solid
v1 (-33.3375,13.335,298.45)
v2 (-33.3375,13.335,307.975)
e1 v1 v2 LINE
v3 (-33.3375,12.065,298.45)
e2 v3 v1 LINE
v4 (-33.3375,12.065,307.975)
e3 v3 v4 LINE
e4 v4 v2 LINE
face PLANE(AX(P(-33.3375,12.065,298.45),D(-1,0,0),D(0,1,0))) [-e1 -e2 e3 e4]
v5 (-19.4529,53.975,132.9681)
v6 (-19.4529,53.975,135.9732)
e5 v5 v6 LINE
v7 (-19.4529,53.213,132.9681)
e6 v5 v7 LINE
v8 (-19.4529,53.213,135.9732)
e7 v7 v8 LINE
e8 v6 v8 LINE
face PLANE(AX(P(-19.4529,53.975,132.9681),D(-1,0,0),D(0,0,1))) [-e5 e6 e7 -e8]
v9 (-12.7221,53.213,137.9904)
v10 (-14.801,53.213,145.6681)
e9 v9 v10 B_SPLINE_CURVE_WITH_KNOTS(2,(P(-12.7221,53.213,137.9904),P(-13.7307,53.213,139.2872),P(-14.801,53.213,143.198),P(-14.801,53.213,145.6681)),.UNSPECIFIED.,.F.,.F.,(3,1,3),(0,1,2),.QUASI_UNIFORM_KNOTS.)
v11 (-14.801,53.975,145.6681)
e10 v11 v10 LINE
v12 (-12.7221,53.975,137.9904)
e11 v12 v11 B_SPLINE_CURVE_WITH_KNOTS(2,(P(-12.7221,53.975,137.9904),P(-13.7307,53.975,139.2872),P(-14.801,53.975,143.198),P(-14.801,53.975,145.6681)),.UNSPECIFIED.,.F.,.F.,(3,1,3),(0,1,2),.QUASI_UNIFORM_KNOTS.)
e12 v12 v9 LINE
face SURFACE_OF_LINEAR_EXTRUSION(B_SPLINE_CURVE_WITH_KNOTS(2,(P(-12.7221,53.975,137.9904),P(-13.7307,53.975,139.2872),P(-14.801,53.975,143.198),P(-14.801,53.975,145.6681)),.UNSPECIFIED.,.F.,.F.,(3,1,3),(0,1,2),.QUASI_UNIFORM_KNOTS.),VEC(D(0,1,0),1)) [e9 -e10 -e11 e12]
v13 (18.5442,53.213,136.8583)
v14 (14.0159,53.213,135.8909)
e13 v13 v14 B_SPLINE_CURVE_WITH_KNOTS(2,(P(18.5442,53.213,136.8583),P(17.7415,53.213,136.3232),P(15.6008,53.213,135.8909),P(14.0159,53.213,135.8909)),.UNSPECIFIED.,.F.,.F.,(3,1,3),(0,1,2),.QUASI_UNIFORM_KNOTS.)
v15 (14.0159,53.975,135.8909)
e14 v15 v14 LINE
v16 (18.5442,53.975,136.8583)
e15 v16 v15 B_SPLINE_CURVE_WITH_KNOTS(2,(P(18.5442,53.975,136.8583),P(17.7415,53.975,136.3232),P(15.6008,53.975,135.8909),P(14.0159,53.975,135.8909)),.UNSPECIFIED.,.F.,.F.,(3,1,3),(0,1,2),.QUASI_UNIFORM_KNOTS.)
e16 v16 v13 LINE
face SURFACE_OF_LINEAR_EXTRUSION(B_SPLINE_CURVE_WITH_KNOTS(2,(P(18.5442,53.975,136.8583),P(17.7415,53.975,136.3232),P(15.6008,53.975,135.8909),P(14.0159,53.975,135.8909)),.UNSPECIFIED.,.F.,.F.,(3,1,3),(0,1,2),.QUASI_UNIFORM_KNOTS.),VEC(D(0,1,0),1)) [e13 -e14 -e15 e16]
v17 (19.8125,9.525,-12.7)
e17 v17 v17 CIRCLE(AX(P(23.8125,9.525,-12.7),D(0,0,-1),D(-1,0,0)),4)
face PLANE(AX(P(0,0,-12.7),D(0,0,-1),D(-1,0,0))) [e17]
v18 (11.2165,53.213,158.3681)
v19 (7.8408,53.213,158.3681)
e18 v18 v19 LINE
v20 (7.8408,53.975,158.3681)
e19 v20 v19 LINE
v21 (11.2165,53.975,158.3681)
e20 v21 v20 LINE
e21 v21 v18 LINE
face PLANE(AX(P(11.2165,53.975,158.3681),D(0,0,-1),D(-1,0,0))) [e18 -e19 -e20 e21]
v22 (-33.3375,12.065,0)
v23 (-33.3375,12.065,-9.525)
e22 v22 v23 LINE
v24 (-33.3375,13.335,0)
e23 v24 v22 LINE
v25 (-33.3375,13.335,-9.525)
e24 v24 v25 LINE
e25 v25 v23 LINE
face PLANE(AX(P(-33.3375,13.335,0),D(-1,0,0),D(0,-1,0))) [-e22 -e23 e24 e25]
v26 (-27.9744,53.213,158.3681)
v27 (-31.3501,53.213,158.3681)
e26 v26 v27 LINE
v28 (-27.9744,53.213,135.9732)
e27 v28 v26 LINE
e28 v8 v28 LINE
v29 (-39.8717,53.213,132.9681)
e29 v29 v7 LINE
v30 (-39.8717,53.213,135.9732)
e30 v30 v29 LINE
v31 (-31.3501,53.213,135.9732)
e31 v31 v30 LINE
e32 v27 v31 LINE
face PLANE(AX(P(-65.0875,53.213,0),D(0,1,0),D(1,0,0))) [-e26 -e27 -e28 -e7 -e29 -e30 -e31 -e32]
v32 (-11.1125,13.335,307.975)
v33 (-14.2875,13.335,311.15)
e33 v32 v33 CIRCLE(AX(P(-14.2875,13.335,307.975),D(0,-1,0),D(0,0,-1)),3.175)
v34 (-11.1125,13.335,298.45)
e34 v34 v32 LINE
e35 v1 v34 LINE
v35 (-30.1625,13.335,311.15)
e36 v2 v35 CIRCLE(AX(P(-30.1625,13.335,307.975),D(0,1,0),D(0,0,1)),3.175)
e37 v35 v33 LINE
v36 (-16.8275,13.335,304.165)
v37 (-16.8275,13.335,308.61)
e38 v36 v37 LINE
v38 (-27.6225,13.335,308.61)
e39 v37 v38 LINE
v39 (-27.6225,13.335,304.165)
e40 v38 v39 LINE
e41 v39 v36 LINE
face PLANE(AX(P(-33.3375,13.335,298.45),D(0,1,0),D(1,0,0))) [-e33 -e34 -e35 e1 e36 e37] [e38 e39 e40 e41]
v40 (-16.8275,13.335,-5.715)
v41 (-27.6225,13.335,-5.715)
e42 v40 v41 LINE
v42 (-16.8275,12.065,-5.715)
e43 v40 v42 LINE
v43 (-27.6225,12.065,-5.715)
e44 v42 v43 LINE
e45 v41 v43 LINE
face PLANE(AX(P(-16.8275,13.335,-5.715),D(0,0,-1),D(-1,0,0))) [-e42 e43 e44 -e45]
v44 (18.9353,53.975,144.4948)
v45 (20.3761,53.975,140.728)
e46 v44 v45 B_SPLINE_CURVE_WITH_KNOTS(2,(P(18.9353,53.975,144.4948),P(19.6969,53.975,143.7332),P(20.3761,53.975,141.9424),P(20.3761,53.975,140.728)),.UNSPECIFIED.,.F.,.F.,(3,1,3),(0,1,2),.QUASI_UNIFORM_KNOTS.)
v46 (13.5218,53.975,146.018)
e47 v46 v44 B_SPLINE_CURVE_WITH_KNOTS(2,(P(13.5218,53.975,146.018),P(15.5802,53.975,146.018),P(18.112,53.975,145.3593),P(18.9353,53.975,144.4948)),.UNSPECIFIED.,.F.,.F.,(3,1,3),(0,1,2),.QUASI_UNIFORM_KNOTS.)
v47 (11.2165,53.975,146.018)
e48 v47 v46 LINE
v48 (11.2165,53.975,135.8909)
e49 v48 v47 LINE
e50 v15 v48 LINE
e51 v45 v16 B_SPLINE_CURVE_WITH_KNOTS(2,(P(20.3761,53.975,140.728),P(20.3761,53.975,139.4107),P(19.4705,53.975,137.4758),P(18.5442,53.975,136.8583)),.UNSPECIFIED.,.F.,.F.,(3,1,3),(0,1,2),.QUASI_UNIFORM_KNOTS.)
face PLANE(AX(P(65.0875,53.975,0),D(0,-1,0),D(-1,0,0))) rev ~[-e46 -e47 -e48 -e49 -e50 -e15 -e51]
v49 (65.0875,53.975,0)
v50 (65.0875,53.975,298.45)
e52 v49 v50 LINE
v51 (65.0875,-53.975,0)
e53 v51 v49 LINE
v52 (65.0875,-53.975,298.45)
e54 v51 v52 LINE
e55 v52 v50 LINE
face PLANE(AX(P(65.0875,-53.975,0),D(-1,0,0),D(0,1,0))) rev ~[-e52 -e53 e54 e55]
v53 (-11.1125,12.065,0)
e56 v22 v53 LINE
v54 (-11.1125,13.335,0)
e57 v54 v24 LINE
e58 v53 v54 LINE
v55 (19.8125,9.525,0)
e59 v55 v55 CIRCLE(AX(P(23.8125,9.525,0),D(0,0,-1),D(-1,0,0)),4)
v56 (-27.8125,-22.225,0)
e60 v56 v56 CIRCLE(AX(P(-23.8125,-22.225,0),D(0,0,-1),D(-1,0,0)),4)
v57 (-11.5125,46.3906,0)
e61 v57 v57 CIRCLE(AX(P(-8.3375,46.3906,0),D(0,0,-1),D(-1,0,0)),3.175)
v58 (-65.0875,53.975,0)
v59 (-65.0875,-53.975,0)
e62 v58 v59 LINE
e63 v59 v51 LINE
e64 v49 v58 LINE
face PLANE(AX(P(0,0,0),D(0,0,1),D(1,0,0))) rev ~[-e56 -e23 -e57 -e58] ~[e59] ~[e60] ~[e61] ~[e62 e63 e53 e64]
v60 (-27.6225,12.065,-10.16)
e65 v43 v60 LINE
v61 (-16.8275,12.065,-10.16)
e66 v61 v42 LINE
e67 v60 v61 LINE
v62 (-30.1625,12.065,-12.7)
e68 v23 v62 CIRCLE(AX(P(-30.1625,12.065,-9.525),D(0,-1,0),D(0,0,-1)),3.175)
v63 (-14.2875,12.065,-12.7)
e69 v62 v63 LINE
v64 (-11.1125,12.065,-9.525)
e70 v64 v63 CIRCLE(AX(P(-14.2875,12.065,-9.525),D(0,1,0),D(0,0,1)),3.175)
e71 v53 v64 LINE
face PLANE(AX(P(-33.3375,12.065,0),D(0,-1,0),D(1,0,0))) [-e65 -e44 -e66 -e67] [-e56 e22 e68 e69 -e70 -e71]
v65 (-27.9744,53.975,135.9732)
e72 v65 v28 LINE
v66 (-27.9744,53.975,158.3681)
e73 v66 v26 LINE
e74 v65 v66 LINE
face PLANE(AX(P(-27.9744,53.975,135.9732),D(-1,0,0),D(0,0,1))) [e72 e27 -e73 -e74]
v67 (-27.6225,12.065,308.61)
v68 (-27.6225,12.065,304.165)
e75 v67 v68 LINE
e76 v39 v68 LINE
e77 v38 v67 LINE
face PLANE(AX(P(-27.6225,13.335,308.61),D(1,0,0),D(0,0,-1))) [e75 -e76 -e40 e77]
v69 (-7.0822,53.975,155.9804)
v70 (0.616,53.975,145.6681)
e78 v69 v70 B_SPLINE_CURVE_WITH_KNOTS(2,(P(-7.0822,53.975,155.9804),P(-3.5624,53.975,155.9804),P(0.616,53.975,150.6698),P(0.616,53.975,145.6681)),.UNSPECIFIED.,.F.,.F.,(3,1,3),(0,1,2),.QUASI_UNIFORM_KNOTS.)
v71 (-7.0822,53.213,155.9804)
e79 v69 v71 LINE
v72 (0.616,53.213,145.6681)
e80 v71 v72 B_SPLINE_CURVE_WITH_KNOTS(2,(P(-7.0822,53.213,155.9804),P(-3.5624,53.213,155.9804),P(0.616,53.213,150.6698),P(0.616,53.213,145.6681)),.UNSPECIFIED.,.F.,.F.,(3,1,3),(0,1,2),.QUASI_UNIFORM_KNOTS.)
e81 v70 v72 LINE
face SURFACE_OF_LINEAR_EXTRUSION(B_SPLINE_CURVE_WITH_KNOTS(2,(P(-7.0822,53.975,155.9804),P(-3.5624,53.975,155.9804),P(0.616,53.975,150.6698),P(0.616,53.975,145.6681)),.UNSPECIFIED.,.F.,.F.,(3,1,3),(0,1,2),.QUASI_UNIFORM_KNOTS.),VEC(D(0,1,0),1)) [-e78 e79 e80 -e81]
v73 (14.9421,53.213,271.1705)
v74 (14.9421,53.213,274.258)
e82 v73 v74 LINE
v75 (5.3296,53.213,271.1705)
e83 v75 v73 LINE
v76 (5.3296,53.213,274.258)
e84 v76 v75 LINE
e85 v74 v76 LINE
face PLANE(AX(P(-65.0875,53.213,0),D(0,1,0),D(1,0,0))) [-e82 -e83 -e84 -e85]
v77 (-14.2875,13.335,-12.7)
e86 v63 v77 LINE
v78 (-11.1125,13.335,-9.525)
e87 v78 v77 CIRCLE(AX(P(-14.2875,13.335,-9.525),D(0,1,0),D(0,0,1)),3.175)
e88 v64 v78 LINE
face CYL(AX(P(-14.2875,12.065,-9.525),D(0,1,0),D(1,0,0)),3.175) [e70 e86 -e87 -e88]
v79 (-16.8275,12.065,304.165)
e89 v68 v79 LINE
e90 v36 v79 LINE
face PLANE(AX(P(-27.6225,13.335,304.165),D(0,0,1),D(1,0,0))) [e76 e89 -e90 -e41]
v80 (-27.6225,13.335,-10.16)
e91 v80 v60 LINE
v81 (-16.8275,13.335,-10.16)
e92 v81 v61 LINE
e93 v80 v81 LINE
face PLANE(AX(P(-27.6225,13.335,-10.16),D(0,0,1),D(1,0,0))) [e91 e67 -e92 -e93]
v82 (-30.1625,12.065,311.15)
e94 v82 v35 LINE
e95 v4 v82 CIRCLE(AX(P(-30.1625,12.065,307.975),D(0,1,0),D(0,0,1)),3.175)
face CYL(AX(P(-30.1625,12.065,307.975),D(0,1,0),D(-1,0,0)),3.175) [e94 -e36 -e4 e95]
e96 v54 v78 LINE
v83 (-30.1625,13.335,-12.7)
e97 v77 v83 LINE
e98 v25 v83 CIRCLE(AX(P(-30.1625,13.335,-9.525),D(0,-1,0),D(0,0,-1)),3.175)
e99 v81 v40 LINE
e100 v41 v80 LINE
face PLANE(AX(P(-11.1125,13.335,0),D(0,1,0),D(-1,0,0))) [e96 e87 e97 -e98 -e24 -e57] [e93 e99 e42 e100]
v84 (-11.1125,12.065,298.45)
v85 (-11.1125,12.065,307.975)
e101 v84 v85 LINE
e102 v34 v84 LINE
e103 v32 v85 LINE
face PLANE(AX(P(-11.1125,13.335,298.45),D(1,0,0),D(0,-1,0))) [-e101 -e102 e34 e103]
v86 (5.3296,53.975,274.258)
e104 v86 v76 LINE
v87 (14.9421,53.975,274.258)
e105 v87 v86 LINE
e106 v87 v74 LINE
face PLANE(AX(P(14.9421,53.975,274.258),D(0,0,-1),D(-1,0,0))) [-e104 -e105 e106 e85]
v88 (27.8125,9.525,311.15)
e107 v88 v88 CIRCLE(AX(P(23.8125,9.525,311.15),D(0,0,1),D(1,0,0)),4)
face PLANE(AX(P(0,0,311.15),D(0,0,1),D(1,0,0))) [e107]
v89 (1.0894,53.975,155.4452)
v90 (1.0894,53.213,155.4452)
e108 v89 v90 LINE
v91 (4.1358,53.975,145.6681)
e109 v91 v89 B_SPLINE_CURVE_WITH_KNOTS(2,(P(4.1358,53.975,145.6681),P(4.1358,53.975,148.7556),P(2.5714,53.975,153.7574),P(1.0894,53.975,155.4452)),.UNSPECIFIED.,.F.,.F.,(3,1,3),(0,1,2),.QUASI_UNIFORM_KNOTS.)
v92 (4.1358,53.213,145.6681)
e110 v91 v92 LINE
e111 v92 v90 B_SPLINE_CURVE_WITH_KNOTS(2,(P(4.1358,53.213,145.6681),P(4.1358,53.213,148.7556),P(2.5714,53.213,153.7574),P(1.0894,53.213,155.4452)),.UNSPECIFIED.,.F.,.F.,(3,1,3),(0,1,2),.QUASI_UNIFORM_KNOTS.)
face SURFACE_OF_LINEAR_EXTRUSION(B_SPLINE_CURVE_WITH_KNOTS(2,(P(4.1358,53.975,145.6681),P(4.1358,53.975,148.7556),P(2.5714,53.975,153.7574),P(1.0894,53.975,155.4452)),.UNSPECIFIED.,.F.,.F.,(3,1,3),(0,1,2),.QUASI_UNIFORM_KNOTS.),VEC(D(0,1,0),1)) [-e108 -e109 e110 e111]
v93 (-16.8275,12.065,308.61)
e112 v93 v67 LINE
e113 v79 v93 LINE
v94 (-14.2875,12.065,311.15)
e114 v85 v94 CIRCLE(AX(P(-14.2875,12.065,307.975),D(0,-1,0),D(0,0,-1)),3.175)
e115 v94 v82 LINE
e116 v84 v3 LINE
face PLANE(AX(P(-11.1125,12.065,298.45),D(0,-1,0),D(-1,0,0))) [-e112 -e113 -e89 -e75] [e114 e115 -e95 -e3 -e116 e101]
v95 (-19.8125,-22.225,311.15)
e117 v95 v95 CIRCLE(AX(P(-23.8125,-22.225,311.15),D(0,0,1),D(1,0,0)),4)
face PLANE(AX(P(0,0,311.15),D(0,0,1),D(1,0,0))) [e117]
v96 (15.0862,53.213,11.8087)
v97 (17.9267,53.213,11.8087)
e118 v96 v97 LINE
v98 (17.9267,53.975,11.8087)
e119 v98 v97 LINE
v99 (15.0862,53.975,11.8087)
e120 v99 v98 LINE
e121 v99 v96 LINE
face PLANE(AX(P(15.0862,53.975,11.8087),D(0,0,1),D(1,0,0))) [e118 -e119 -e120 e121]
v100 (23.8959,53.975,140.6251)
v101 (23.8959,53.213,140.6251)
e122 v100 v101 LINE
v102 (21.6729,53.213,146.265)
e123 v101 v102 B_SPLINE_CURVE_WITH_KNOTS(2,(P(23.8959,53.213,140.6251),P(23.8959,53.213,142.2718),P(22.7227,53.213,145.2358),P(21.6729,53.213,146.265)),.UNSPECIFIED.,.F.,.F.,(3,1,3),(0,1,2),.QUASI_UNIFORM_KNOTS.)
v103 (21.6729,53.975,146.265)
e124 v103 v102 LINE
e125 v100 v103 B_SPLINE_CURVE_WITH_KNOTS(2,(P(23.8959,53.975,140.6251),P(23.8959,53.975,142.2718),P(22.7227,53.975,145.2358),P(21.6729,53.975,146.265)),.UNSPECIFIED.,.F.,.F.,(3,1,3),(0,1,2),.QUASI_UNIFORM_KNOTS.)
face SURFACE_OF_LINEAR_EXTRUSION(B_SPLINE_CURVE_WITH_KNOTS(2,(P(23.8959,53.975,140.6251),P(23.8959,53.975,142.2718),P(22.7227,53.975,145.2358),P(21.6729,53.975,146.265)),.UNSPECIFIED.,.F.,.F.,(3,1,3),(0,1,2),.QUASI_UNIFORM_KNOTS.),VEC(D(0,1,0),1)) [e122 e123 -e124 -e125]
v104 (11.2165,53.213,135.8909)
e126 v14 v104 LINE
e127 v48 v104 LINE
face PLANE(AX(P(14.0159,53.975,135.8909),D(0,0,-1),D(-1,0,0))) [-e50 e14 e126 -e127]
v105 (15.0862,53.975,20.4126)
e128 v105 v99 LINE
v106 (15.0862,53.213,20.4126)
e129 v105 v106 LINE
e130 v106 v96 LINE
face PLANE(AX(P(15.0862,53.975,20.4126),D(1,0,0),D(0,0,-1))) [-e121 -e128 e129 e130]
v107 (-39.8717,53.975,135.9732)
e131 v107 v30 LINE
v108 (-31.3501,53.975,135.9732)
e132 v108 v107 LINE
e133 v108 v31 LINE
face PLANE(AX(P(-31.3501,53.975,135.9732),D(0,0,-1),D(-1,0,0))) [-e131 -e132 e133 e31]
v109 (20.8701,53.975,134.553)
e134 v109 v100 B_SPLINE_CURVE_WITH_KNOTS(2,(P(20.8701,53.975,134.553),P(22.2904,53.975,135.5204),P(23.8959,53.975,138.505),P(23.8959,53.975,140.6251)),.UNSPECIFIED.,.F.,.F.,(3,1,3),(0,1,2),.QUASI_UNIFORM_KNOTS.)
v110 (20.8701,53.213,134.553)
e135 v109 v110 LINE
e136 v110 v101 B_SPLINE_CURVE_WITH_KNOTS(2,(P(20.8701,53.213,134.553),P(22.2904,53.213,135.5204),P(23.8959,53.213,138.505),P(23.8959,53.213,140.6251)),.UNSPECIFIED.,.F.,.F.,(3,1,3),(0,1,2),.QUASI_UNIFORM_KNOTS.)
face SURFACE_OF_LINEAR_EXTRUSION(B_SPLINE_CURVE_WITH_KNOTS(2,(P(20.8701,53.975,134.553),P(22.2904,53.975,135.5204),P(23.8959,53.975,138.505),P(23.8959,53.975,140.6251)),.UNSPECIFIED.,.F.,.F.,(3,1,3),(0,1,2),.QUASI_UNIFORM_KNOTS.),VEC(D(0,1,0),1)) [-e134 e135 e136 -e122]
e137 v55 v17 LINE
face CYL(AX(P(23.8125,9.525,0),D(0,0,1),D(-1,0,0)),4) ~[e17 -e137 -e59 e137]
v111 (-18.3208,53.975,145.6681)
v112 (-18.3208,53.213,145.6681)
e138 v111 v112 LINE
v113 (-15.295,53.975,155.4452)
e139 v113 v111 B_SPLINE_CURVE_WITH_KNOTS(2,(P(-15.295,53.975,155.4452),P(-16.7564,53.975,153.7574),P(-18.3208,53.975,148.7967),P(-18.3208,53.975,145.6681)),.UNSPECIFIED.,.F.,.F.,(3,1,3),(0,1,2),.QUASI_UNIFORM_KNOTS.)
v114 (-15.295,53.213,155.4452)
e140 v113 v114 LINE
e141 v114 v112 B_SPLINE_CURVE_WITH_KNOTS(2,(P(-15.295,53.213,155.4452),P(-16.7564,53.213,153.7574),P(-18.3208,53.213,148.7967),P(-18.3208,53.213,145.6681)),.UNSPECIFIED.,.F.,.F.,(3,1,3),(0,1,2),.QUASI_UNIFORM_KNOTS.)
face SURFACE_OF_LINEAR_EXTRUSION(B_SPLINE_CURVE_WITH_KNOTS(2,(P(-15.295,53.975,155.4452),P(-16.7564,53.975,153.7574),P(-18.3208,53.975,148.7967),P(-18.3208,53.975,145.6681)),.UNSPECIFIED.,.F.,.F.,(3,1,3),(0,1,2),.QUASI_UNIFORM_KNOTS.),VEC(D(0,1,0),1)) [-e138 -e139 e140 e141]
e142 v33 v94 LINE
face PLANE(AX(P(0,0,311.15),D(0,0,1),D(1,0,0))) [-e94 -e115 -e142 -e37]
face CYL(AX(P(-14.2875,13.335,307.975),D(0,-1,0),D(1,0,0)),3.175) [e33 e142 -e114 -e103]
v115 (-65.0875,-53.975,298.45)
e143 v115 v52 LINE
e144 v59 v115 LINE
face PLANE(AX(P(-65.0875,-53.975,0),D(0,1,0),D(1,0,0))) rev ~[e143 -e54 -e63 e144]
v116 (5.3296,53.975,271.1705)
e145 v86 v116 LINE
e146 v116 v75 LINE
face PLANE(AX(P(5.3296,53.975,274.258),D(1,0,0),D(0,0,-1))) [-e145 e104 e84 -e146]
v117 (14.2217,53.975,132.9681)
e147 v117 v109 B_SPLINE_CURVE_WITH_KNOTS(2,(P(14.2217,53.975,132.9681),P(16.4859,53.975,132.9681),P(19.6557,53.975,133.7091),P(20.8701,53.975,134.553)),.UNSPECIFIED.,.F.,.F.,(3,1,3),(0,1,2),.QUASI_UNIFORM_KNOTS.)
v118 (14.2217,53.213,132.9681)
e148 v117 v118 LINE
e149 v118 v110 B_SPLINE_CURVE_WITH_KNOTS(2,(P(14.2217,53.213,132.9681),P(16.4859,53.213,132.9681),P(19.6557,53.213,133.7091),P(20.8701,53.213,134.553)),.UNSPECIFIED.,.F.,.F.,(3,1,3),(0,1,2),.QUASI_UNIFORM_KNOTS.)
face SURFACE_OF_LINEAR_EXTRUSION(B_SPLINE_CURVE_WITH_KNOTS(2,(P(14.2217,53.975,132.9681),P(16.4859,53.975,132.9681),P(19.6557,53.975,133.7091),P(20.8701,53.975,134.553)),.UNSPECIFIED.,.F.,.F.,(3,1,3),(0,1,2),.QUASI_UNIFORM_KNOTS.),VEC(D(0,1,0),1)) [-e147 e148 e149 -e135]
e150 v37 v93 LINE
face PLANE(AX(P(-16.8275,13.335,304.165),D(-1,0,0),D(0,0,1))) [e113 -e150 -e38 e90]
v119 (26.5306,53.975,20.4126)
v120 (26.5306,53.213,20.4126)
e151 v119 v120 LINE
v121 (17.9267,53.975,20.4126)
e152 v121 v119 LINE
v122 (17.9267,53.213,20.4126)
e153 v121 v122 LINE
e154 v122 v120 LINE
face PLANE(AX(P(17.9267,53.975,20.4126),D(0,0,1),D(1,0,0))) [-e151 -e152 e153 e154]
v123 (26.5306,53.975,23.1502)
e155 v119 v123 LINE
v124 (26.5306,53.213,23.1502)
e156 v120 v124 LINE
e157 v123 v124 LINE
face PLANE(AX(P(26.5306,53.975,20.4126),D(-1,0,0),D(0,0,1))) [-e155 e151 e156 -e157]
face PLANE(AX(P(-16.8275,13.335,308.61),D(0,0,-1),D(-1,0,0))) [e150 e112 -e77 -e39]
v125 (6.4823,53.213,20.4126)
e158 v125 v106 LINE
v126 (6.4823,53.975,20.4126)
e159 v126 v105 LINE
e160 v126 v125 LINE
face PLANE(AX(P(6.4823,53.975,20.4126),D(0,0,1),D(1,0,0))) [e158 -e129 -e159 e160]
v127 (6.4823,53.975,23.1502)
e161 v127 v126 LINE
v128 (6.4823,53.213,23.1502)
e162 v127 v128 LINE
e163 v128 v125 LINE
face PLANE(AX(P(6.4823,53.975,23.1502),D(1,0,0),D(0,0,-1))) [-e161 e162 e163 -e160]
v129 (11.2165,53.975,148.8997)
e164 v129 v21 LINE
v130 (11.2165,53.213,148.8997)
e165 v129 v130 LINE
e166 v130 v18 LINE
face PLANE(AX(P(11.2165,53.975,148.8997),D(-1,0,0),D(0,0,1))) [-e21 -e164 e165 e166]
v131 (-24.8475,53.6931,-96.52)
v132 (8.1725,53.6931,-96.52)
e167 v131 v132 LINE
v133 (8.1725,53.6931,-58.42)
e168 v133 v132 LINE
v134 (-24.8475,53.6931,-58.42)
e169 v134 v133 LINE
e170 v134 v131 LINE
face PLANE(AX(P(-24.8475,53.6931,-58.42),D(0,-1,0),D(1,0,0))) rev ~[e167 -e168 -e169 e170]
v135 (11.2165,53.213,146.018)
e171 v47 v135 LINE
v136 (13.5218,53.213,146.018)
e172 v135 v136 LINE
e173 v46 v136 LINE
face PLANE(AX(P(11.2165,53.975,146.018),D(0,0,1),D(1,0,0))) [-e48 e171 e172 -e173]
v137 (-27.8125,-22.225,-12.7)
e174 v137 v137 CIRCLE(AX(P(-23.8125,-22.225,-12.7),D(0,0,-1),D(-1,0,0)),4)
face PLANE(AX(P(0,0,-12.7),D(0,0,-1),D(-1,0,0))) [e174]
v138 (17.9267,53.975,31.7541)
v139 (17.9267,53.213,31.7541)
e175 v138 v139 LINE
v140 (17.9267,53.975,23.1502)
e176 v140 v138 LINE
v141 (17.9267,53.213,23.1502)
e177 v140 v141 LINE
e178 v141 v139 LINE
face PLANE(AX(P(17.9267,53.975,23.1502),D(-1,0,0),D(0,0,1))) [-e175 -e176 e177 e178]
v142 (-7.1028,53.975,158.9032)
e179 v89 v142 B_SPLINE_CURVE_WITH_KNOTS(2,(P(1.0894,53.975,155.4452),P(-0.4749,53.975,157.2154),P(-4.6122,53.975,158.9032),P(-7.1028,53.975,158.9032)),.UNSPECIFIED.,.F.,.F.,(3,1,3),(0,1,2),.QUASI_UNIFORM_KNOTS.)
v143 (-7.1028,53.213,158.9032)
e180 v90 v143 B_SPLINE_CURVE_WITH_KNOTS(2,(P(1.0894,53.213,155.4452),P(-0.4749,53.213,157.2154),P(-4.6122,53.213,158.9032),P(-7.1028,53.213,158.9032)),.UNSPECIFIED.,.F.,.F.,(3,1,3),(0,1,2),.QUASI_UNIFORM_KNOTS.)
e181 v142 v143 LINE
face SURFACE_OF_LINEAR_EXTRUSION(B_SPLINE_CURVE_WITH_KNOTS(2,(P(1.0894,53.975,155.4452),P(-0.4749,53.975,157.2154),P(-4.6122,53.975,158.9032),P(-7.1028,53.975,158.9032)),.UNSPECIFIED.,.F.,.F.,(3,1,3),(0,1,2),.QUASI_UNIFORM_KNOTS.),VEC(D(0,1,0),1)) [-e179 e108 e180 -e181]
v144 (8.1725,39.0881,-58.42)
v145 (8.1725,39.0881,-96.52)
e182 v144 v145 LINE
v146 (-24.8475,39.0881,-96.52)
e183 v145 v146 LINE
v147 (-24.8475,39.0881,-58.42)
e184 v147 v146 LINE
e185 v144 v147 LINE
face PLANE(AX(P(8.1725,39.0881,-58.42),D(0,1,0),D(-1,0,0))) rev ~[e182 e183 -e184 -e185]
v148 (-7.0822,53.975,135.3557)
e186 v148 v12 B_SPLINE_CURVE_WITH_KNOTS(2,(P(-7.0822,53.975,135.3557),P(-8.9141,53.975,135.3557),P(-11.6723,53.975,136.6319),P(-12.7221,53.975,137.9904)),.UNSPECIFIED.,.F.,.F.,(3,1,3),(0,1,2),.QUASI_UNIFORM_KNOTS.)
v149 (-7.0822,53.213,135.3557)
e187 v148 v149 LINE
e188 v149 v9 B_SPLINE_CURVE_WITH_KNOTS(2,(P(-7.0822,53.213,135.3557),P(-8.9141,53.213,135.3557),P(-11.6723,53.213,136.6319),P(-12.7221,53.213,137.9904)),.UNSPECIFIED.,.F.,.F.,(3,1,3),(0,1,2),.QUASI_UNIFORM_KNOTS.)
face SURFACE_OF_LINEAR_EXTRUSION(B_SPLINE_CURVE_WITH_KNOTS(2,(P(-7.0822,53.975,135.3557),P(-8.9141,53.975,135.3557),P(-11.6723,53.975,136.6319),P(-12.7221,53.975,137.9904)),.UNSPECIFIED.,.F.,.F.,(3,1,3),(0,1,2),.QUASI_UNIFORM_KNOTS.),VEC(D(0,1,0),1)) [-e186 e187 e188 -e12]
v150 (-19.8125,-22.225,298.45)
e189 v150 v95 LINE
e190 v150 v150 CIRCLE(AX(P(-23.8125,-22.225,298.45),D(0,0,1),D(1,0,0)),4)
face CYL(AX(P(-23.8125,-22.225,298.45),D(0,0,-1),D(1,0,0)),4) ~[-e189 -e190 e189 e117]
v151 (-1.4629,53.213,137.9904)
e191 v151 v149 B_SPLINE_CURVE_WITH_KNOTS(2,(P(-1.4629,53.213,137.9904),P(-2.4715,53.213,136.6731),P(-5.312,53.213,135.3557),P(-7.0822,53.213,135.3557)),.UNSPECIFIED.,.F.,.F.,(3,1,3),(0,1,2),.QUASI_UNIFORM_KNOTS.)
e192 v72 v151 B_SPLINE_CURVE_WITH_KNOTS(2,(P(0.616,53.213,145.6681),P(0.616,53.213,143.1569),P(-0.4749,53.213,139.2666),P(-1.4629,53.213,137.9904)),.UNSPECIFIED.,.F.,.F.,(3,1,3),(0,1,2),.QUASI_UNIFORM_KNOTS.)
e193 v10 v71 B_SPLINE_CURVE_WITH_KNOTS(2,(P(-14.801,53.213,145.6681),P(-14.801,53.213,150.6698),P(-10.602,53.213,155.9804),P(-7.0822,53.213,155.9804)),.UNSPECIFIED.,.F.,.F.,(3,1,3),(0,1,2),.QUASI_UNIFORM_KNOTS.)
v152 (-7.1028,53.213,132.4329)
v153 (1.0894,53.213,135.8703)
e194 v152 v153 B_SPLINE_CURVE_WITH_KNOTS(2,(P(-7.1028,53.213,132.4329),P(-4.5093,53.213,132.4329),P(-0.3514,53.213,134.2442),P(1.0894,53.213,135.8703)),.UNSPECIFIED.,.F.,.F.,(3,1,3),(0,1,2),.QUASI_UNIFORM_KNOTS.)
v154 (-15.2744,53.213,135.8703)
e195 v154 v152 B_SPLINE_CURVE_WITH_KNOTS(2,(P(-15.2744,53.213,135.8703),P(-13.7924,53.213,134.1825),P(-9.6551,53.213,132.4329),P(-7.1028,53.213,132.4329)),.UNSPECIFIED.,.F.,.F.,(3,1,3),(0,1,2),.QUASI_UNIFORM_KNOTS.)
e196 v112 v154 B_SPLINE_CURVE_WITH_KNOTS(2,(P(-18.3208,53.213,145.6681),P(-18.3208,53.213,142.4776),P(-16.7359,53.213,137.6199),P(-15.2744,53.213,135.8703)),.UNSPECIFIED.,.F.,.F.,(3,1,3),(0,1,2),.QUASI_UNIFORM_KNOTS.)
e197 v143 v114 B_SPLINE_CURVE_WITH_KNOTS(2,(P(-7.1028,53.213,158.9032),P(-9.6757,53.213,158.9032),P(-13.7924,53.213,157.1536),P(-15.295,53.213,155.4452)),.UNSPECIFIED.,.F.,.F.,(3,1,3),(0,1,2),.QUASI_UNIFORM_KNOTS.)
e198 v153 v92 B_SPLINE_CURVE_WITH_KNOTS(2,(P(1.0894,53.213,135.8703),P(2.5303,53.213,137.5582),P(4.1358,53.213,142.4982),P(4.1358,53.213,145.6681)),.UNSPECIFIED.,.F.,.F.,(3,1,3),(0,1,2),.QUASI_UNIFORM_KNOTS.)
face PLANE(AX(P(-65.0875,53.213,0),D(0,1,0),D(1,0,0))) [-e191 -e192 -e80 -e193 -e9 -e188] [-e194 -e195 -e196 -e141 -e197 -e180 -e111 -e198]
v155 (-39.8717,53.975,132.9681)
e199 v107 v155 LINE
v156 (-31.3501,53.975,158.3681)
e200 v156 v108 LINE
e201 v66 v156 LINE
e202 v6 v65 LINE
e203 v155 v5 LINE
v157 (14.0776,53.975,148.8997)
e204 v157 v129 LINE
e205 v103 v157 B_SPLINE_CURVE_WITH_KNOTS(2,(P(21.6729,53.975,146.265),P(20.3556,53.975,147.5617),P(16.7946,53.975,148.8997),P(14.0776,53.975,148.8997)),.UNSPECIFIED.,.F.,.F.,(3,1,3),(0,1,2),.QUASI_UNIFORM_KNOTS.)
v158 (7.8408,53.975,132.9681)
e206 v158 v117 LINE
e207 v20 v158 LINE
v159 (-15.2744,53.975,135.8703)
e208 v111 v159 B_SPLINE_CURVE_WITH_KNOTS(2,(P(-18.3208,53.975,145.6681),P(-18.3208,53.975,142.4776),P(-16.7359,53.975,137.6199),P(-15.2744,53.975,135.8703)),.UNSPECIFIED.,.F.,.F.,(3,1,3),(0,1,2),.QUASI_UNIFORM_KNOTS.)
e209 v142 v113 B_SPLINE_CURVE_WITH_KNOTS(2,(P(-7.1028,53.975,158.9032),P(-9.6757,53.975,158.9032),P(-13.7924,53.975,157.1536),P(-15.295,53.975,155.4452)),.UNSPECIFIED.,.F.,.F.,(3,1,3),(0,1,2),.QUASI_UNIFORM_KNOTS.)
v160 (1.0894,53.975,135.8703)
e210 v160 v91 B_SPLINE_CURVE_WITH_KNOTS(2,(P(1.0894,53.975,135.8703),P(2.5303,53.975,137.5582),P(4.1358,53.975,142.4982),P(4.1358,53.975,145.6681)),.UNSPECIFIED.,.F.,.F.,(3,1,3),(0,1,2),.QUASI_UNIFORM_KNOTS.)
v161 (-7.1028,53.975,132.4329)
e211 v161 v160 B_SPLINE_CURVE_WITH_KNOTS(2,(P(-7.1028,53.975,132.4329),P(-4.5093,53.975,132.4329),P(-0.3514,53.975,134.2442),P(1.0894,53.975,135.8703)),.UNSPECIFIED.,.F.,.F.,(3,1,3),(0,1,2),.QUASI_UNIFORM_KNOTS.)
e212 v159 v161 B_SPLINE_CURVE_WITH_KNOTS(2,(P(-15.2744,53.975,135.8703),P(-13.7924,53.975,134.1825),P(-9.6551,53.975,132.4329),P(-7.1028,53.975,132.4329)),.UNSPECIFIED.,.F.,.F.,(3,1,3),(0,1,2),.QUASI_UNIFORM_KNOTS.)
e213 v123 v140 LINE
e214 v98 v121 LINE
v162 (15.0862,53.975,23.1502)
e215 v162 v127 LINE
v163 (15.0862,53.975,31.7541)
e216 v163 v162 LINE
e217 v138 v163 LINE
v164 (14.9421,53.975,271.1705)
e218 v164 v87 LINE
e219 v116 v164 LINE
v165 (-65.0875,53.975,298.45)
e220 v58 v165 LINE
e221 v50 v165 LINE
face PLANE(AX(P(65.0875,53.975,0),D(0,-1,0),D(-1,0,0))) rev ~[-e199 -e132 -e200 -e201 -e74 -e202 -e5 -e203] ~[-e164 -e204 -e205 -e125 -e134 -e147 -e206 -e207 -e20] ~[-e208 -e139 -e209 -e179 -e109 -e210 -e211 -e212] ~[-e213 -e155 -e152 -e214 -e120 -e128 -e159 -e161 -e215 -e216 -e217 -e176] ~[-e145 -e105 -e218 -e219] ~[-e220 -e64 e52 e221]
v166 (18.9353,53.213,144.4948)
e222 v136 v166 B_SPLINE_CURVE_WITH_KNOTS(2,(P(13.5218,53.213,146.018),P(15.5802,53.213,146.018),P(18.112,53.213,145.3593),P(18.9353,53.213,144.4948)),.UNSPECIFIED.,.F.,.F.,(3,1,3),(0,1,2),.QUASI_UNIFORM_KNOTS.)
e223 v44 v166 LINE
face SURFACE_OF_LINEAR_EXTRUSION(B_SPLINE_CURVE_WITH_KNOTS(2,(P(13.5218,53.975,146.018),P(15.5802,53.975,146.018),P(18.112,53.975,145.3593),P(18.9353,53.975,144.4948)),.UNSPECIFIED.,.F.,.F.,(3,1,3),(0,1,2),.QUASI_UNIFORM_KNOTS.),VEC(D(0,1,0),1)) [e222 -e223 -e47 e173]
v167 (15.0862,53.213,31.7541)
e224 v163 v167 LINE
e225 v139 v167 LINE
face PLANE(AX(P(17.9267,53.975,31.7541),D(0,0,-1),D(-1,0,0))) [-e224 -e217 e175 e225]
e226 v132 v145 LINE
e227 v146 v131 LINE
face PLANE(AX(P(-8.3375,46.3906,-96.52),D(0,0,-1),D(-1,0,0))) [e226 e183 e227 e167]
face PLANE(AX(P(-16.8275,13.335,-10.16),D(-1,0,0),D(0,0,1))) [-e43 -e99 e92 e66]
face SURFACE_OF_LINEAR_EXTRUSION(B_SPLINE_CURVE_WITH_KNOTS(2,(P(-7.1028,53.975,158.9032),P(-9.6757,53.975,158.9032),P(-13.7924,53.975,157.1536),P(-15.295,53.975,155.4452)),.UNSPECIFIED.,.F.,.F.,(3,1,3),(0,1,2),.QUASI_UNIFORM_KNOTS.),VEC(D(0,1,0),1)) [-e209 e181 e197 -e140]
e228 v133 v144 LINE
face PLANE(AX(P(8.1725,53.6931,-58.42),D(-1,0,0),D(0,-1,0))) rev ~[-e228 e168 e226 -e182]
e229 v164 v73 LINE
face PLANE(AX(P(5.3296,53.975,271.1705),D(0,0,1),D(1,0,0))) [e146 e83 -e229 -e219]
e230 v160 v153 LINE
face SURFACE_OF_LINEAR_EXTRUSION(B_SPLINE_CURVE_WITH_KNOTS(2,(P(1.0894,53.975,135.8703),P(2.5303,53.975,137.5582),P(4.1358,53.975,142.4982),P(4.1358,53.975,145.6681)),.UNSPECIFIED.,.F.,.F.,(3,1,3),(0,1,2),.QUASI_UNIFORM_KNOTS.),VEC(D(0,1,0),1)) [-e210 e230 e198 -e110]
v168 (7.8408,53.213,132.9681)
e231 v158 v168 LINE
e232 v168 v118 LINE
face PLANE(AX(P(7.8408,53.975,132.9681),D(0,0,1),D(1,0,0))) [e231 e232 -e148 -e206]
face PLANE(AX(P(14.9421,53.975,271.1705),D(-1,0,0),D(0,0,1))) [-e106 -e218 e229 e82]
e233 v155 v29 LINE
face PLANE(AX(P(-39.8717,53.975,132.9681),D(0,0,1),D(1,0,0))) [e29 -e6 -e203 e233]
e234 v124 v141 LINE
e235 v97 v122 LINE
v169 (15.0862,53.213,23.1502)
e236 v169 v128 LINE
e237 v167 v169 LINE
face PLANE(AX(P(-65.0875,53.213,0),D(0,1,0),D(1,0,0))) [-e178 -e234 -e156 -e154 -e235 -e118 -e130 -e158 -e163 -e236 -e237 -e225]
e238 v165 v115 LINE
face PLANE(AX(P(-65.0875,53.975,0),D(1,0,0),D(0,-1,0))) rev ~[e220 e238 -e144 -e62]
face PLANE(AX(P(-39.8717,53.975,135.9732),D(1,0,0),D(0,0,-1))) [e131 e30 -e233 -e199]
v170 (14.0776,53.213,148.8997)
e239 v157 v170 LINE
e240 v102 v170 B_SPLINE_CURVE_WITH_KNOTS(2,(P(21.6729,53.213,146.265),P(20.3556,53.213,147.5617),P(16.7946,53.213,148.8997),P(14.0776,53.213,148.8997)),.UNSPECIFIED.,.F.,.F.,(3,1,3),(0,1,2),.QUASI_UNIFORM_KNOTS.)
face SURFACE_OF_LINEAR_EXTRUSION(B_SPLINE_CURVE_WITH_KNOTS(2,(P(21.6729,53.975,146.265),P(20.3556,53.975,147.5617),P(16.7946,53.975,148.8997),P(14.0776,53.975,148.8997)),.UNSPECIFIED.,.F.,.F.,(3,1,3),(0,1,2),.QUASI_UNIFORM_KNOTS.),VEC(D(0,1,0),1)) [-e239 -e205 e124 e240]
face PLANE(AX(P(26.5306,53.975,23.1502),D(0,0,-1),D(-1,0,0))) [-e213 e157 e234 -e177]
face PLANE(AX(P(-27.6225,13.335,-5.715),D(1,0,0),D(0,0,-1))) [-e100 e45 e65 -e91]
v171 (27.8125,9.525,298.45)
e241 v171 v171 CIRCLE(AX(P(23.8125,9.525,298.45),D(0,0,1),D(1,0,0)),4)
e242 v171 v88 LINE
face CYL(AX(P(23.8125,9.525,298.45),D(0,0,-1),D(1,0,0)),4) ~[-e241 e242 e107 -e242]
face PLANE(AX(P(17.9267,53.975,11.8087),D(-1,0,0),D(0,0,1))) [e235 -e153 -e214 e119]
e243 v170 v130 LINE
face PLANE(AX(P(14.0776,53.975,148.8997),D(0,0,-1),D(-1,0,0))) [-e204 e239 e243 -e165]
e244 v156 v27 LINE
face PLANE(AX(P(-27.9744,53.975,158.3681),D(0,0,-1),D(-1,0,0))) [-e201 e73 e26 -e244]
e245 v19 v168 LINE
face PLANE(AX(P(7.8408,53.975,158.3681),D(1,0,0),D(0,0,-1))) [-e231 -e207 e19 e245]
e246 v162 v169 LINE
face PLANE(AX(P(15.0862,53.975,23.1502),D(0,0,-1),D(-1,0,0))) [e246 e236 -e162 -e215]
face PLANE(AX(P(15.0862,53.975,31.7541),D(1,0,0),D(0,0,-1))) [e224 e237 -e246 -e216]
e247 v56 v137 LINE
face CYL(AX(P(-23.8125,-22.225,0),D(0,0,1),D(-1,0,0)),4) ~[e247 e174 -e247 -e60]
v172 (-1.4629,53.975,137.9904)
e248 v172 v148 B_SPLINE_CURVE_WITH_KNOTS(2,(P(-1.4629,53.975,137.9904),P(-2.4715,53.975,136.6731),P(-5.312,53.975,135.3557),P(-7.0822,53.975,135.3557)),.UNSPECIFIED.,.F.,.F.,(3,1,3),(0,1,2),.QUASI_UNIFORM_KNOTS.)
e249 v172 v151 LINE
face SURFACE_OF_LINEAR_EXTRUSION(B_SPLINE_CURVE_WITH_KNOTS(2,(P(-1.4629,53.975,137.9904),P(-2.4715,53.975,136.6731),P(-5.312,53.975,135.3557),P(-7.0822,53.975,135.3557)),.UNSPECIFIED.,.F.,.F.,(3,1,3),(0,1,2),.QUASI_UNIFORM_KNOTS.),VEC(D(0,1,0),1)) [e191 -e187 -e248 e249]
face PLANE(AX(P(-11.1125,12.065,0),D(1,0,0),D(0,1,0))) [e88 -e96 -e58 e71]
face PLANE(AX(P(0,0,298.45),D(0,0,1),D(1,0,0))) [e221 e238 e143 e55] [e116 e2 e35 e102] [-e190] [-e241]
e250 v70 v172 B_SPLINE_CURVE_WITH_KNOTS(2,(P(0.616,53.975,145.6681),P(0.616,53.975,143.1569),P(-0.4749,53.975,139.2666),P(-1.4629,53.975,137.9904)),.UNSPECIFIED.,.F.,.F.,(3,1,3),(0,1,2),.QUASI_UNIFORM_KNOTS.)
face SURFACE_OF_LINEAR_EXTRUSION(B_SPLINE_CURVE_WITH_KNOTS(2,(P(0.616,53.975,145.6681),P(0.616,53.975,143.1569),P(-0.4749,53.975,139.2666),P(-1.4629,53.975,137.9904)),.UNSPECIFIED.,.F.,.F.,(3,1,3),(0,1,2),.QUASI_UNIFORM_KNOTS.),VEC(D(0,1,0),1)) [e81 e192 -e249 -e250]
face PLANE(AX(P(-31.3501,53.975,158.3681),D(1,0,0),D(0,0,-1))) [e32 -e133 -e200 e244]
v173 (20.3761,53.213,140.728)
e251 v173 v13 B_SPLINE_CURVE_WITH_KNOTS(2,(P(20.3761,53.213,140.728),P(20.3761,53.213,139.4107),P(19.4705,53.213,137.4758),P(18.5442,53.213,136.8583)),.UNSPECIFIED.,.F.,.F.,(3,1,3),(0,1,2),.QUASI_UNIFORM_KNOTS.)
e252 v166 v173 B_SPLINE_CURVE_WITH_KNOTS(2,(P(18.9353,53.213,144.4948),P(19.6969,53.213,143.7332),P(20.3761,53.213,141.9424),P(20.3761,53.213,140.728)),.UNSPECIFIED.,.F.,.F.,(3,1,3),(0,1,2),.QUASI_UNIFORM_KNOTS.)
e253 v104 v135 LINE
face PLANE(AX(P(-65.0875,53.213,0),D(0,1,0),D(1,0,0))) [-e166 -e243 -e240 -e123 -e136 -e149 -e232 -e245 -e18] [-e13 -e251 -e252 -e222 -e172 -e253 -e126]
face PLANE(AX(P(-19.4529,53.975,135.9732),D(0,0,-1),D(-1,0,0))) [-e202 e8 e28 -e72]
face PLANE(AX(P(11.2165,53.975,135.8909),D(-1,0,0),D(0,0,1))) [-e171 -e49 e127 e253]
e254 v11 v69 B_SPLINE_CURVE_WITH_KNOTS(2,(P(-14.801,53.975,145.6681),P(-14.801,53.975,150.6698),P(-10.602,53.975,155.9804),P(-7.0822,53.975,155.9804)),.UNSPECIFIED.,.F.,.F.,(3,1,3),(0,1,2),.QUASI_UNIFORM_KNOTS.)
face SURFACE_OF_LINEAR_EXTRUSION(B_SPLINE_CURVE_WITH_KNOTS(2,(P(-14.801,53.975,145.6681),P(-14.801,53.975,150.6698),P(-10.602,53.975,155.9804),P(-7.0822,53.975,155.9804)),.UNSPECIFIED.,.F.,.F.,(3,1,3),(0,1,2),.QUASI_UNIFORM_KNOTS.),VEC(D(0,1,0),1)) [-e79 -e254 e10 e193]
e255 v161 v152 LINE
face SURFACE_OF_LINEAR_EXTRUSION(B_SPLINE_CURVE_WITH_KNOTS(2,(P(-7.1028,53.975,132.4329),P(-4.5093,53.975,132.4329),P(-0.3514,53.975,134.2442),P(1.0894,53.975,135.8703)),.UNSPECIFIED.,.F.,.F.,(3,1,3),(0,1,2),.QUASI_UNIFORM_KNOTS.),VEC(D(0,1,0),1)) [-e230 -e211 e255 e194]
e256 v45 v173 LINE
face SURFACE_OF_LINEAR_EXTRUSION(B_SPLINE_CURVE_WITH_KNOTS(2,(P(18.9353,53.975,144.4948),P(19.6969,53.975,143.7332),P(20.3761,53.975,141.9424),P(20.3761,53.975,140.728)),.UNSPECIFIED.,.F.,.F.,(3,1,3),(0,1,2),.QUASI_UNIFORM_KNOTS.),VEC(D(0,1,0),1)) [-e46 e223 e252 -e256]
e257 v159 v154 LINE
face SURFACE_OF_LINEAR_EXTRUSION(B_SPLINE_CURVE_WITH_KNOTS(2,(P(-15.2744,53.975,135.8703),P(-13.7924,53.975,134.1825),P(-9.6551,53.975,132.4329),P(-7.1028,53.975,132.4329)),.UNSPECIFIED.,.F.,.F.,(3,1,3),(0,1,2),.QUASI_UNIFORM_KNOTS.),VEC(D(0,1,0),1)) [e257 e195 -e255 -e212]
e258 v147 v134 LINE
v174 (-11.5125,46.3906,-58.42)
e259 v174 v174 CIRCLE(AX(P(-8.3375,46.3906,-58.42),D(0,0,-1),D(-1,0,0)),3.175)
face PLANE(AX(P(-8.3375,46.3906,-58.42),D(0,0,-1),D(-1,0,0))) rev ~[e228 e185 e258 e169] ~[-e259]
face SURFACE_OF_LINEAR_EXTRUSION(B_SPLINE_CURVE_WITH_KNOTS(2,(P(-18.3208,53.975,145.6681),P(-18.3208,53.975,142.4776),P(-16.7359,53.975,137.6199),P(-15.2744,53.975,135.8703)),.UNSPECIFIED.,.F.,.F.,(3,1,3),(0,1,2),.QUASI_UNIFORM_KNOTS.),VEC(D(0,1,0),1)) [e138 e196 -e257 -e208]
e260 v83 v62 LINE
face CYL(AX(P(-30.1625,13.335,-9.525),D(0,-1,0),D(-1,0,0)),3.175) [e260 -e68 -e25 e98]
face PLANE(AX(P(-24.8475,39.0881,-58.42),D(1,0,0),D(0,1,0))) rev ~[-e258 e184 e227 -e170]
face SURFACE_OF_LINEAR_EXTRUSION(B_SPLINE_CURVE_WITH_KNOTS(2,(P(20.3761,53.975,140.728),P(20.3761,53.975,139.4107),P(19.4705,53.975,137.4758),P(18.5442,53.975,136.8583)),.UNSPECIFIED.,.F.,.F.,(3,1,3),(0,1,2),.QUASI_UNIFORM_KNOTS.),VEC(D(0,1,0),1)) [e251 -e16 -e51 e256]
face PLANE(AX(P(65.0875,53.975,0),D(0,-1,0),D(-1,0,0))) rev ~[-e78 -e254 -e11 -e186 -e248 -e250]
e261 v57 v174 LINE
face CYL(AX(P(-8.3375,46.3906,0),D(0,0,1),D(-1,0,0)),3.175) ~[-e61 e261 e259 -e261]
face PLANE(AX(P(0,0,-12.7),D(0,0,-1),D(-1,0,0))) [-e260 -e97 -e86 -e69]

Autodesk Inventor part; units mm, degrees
ref_plane "YZ Plane" through (0, 0, 0) normal (1, 0, 0) x (0, 1, 0)
ref_plane "XZ Plane" through (0, 0, 0) normal (0, 1, 0) x (-1, 0, 0)
ref_plane "XY Plane" through (0, 0, 0) normal (0, 0, 1) x (1, 0, 0)
sketch "Sketch1" plane through (0, 0, 0) normal (0, 0, 1) x (1, 0, 0)
  line L0 (-65.0875, -53.975) -> (65.0875, -53.975)
  line L1 (65.0875, -53.975) -> (65.0875, 53.975)
  line L2 (65.0875, 53.975) -> (-65.0875, 53.975)
  line L3 (-65.0875, 53.975) -> (-65.0875, -53.975)
  line L4 (-65.0875, -53.975) -> (65.0875, 53.975) construction
  line L5 (65.0875, -53.975) -> (-65.0875, 53.975) construction
  point P0 (0, 0)
  dimension "d0" = 130.175
  dimension "d1" = 107.95
extrude "Extrusion1" add sketch "Sketch1" along normal blind 298.45
sketch "Sketch2" plane through (0, 0, 298.45) normal (0, 0, 1) x (1, 0, 0)
  line L0 (-65.0875, -53.975) -> (65.0875, -53.975) construction
  line L1 (-65.0875, 53.975) -> (-65.0875, -53.975) construction
  circle A0 centre (-23.8125, -22.225) radius 4
  circle A1 centre (23.8125, 9.525) radius 4
  line L2 (-11.1125, 12.065) -> (-33.3375, 12.065)
  line L3 (-33.3375, 12.065) -> (-33.3375, 13.335)
  line L4 (-33.3375, 13.335) -> (-11.1125, 13.335)
  line L5 (-11.1125, 13.335) -> (-11.1125, 12.065)
  line L6 (-33.3375, 12.7) -> (-65.0875, 12.7) construction
  point P0 (0, 0)
  dimension "d4" = 31.75
  dimension "d5" = 41.275
  dimension "d6" = 8
  dimension "d7" = 63.5
  dimension "d8" = 88.9
  dimension "d13" = 31.75
  dimension "d14" = 53.975
  dimension "d15" = 66.675
  dimension "d16" = 1.27
extrude "Extrusion2" add sketch "Sketch2" along normal blind 12.7
sketch "Sketch3" plane through (0, 0, 0) normal (0, 0, -1) x (-1, 0, 0)
  circle A0 centre (-23.8125, 9.525) radius 4 projected
  circle A1 centre (23.8125, -22.225) radius 4 projected
  line L0 (33.3375, 12.065) -> (11.1125, 12.065) projected
  line L1 (11.1125, 12.065) -> (11.1125, 13.335) projected
  line L2 (11.1125, 13.335) -> (33.3375, 13.335) projected
  line L3 (33.3375, 13.335) -> (33.3375, 12.065) projected
  point P0 (0, 0)
extrude "Extrusion3" add sketch "Sketch3" along normal blind 12.7
sketch "Sketch4" plane through (-33.3375, 13.335, 0) normal (0, 1, 0) x (1, 0, 0)
  line L0 (0, 12.7) -> (22.225, 12.7) projected
  line L1 (22.225, 0) -> (22.225, 12.7) projected
  line L2 (0, 0) -> (0, 12.7) projected
  line L3 (22.225, -298.45) -> (22.225, -311.15) projected
  line L4 (22.225, -311.15) -> (0, -311.15) projected
  line L5 (0, -298.45) -> (0, -311.15) projected
  line L6 (16.51, -308.61) -> (5.715, -308.61)
  line L7 (5.715, -308.61) -> (5.715, -304.165)
  line L8 (5.715, -304.165) -> (16.51, -304.165)
  line L9 (16.51, -304.165) -> (16.51, -308.61)
  line L10 (16.51, 5.715) -> (5.715, 5.715)
  line L11 (5.715, 5.715) -> (5.715, 10.16)
  line L12 (5.715, 10.16) -> (16.51, 10.16)
  line L13 (16.51, 10.16) -> (16.51, 5.715)
  line L14 (5.715, 10.16) -> (0, 12.7) construction
  line L15 (16.51, 10.16) -> (22.225, 12.7) construction
  line L16 (22.225, -311.15) -> (16.51, -308.61) construction
  line L17 (5.715, -308.61) -> (0, -311.15) construction
  point P0 (33.3375, 0)
  dimension "d17" = 10.795
  dimension "d18" = 6.985
  dimension "d19" = 2.54
extrude "Extrusion4" cut sketch "Sketch4" against normal up to surface (1.27 mm away)
fillet "Fillet1" radius 3.175 4 edges at (-33.3375, 12.7, -12.7) (-11.1125, 12.7, -12.7) (-33.3375, 12.7, 311.15) (-11.1125, 12.7, 311.15)
thread "Thread1" size "M8x1.25" class "6g" standard "ANSI Metric M Profile" full length
thread "Thread2" size "M8x1.25" class "6g" standard "ANSI Metric M Profile" full length
thread "Thread3" size "M8x1.25" class "6g" standard "ANSI Metric M Profile" full length
thread "Thread4" size "M8x1.25" class "6g" standard "ANSI Metric M Profile" full length
sketch "Sketch5" plane through (-65.0875, 53.975, 0) normal (0, 1, 0) x (1, 0, 0)
  line L0 (25.2364, -11.8087) -> (114.825, -11.8087) construction
  line L1 (114.825, -11.8087) -> (114.825, -199.7093) construction
  line L2 (114.825, -199.7093) -> (25.2364, -199.7093) construction
  line L3 (25.2364, -199.7093) -> (25.2364, -11.8087) construction
  line L4 (91.6181, -23.1502) -> (83.0142, -23.1502)
  line L5 (83.0142, -23.1502) -> (83.0142, -31.7541)
  line L6 (83.0142, -31.7541) -> (80.1737, -31.7541)
  line L7 (80.1737, -31.7541) -> (80.1737, -23.1502)
  line L8 (80.1737, -23.1502) -> (71.5698, -23.1502)
  line L9 (71.5698, -23.1502) -> (71.5698, -20.4126)
  line L10 (71.5698, -20.4126) -> (80.1737, -20.4126)
  line L11 (80.1737, -20.4126) -> (80.1737, -11.8087)
  line L12 (80.1737, -11.8087) -> (83.0142, -11.8087)
  line L13 (83.0142, -11.8087) -> (83.0142, -20.4126)
  line L14 (83.0142, -20.4126) -> (91.6181, -20.4126)
  line L15 (91.6181, -20.4126) -> (91.6181, -23.1502)
  line L16 (33.7374, -158.3681) -> (33.7374, -135.9732)
  line L17 (33.7374, -135.9732) -> (25.2158, -135.9732)
  line L18 (25.2158, -135.9732) -> (25.2158, -132.9681)
  line L19 (25.2158, -132.9681) -> (45.6346, -132.9681)
  line L20 (45.6346, -132.9681) -> (45.6346, -135.9732)
  line L21 (45.6346, -135.9732) -> (37.1131, -135.9732)
  line L22 (37.1131, -135.9732) -> (37.1131, -158.3681)
  line L23 (37.1131, -158.3681) -> (33.7374, -158.3681)
  spline S0 degree 2 poles (66.1769, -135.8703) (67.6178, -137.5582) (69.2233, -142.4982) (69.2233, -145.6681) knots 0 0 0 1 2 2 2
  spline S1 degree 2 poles (69.2233, -145.6681) (69.2233, -148.7556) (67.6589, -153.7574) (66.1769, -155.4452) knots 0 0 0 1 2 2 2
  spline S2 degree 2 poles (66.1769, -155.4452) (64.6126, -157.2154) (60.4753, -158.9032) (57.9847, -158.9032) knots 0 0 0 1 2 2 2
  spline S3 degree 2 poles (57.9847, -158.9032) (55.4118, -158.9032) (51.2951, -157.1536) (49.7925, -155.4452) knots 0 0 0 1 2 2 2
  spline S4 degree 2 poles (49.7925, -155.4452) (48.3311, -153.7574) (46.7667, -148.7967) (46.7667, -145.6681) knots 0 0 0 1 2 2 2
  spline S5 degree 2 poles (46.7667, -145.6681) (46.7667, -142.4776) (48.3516, -137.6199) (49.8131, -135.8703) knots 0 0 0 1 2 2 2
  spline S6 degree 2 poles (49.8131, -135.8703) (51.2951, -134.1825) (55.4324, -132.4329) (57.9847, -132.4329) knots 0 0 0 1 2 2 2
  spline S7 degree 2 poles (57.9847, -132.4329) (60.5782, -132.4329) (64.7361, -134.2442) (66.1769, -135.8703) knots 0 0 0 1 2 2 2
  spline S8 degree 2 poles (65.7035, -145.6681) (65.7035, -143.1569) (64.6126, -139.2666) (63.6246, -137.9904) knots 0 0 0 1 2 2 2
  spline S9 degree 2 poles (63.6246, -137.9904) (62.616, -136.6731) (59.7755, -135.3557) (58.0053, -135.3557) knots 0 0 0 1 2 2 2
  spline S10 degree 2 poles (58.0053, -135.3557) (56.1734, -135.3557) (53.4152, -136.6319) (52.3654, -137.9904) knots 0 0 0 1 2 2 2
  spline S11 degree 2 poles (52.3654, -137.9904) (51.3568, -139.2872) (50.2865, -143.198) (50.2865, -145.6681) knots 0 0 0 1 2 2 2
  spline S12 degree 2 poles (50.2865, -145.6681) (50.2865, -150.6698) (54.4855, -155.9804) (58.0053, -155.9804) knots 0 0 0 1 2 2 2
  spline S13 degree 2 poles (58.0053, -155.9804) (61.5251, -155.9804) (65.7035, -150.6698) (65.7035, -145.6681) knots 0 0 0 1 2 2 2
  spline S14 degree 2 poles (88.9834, -140.6251) (88.9834, -142.2718) (87.8102, -145.2358) (86.7604, -146.265) knots 0 0 0 1 2 2 2
  spline S15 degree 2 poles (86.7604, -146.265) (85.4431, -147.5617) (81.8821, -148.8997) (79.1651, -148.8997) knots 0 0 0 1 2 2 2
  line L24 (79.1651, -148.8997) -> (76.304, -148.8997)
  line L25 (76.304, -148.8997) -> (76.304, -158.3681)
  line L26 (76.304, -158.3681) -> (72.9283, -158.3681)
  line L27 (72.9283, -158.3681) -> (72.9283, -132.9681)
  line L28 (72.9283, -132.9681) -> (79.3092, -132.9681)
  spline S16 degree 2 poles (79.3092, -132.9681) (81.5734, -132.9681) (84.7432, -133.7091) (85.9576, -134.553) knots 0 0 0 1 2 2 2
  spline S17 degree 2 poles (85.9576, -134.553) (87.3779, -135.5204) (88.9834, -138.505) (88.9834, -140.6251) knots 0 0 0 1 2 2 2
  spline S18 degree 2 poles (85.4636, -140.728) (85.4636, -139.4107) (84.558, -137.4758) (83.6317, -136.8583) knots 0 0 0 1 2 2 2
  spline S19 degree 2 poles (83.6317, -136.8583) (82.829, -136.3232) (80.6883, -135.8909) (79.1034, -135.8909) knots 0 0 0 1 2 2 2
  line L29 (79.1034, -135.8909) -> (76.304, -135.8909)
  line L30 (76.304, -135.8909) -> (76.304, -146.018)
  line L31 (76.304, -146.018) -> (78.6093, -146.018)
  spline S20 degree 2 poles (78.6093, -146.018) (80.6677, -146.018) (83.1995, -145.3593) (84.0228, -144.4948) knots 0 0 0 1 2 2 2
  spline S21 degree 2 poles (84.0228, -144.4948) (84.7844, -143.7332) (85.4636, -141.9424) (85.4636, -140.728) knots 0 0 0 1 2 2 2
  line L32 (80.0296, -274.258) -> (70.4171, -274.258)
  line L33 (70.4171, -274.258) -> (70.4171, -271.1705)
  line L34 (70.4171, -271.1705) -> (80.0296, -271.1705)
  line L35 (80.0296, -271.1705) -> (80.0296, -274.258)
  point P0 (65.0875, 0)
extrude "Extrusion7" cut sketch "Sketch5" against normal blind 0.762
sketch "Sketch6" plane through (0, 0, 0) normal (0, 0, -1) x (-1, 0, 0)
  circle A0 centre (8.3375, 46.3906) radius 3.175
  point P0 (0, 0)
  dimension "d31" = 6.35
extrude "Extrusion5" add sketch "Sketch6" along normal blind 58.42
sketch "Sketch7" plane through (-8.3375, 46.3906, -58.42) normal (0, 0, -1) x (-1, 0, 0)
  circle A0 centre (0, 0) radius 3.175 projected
  line L0 (-16.51, -7.3025) -> (16.51, -7.3025)
  line L1 (16.51, -7.3025) -> (16.51, 7.3025)
  line L2 (16.51, 7.3025) -> (-16.51, 7.3025)
  line L3 (-16.51, 7.3025) -> (-16.51, -7.3025)
  line L4 (-16.51, -7.3025) -> (16.51, 7.3025) construction
  line L5 (16.51, -7.3025) -> (-16.51, 7.3025) construction
  point P0 (-8.3375, -46.3906)
  dimension "d34" = 14.605
  dimension "d35" = 33.02
extrude "Extrusion6" add sketch "Sketch7" along normal blind 38.1 contours A0 | L3 L2 L1 L0
properties part number "12S Module"
